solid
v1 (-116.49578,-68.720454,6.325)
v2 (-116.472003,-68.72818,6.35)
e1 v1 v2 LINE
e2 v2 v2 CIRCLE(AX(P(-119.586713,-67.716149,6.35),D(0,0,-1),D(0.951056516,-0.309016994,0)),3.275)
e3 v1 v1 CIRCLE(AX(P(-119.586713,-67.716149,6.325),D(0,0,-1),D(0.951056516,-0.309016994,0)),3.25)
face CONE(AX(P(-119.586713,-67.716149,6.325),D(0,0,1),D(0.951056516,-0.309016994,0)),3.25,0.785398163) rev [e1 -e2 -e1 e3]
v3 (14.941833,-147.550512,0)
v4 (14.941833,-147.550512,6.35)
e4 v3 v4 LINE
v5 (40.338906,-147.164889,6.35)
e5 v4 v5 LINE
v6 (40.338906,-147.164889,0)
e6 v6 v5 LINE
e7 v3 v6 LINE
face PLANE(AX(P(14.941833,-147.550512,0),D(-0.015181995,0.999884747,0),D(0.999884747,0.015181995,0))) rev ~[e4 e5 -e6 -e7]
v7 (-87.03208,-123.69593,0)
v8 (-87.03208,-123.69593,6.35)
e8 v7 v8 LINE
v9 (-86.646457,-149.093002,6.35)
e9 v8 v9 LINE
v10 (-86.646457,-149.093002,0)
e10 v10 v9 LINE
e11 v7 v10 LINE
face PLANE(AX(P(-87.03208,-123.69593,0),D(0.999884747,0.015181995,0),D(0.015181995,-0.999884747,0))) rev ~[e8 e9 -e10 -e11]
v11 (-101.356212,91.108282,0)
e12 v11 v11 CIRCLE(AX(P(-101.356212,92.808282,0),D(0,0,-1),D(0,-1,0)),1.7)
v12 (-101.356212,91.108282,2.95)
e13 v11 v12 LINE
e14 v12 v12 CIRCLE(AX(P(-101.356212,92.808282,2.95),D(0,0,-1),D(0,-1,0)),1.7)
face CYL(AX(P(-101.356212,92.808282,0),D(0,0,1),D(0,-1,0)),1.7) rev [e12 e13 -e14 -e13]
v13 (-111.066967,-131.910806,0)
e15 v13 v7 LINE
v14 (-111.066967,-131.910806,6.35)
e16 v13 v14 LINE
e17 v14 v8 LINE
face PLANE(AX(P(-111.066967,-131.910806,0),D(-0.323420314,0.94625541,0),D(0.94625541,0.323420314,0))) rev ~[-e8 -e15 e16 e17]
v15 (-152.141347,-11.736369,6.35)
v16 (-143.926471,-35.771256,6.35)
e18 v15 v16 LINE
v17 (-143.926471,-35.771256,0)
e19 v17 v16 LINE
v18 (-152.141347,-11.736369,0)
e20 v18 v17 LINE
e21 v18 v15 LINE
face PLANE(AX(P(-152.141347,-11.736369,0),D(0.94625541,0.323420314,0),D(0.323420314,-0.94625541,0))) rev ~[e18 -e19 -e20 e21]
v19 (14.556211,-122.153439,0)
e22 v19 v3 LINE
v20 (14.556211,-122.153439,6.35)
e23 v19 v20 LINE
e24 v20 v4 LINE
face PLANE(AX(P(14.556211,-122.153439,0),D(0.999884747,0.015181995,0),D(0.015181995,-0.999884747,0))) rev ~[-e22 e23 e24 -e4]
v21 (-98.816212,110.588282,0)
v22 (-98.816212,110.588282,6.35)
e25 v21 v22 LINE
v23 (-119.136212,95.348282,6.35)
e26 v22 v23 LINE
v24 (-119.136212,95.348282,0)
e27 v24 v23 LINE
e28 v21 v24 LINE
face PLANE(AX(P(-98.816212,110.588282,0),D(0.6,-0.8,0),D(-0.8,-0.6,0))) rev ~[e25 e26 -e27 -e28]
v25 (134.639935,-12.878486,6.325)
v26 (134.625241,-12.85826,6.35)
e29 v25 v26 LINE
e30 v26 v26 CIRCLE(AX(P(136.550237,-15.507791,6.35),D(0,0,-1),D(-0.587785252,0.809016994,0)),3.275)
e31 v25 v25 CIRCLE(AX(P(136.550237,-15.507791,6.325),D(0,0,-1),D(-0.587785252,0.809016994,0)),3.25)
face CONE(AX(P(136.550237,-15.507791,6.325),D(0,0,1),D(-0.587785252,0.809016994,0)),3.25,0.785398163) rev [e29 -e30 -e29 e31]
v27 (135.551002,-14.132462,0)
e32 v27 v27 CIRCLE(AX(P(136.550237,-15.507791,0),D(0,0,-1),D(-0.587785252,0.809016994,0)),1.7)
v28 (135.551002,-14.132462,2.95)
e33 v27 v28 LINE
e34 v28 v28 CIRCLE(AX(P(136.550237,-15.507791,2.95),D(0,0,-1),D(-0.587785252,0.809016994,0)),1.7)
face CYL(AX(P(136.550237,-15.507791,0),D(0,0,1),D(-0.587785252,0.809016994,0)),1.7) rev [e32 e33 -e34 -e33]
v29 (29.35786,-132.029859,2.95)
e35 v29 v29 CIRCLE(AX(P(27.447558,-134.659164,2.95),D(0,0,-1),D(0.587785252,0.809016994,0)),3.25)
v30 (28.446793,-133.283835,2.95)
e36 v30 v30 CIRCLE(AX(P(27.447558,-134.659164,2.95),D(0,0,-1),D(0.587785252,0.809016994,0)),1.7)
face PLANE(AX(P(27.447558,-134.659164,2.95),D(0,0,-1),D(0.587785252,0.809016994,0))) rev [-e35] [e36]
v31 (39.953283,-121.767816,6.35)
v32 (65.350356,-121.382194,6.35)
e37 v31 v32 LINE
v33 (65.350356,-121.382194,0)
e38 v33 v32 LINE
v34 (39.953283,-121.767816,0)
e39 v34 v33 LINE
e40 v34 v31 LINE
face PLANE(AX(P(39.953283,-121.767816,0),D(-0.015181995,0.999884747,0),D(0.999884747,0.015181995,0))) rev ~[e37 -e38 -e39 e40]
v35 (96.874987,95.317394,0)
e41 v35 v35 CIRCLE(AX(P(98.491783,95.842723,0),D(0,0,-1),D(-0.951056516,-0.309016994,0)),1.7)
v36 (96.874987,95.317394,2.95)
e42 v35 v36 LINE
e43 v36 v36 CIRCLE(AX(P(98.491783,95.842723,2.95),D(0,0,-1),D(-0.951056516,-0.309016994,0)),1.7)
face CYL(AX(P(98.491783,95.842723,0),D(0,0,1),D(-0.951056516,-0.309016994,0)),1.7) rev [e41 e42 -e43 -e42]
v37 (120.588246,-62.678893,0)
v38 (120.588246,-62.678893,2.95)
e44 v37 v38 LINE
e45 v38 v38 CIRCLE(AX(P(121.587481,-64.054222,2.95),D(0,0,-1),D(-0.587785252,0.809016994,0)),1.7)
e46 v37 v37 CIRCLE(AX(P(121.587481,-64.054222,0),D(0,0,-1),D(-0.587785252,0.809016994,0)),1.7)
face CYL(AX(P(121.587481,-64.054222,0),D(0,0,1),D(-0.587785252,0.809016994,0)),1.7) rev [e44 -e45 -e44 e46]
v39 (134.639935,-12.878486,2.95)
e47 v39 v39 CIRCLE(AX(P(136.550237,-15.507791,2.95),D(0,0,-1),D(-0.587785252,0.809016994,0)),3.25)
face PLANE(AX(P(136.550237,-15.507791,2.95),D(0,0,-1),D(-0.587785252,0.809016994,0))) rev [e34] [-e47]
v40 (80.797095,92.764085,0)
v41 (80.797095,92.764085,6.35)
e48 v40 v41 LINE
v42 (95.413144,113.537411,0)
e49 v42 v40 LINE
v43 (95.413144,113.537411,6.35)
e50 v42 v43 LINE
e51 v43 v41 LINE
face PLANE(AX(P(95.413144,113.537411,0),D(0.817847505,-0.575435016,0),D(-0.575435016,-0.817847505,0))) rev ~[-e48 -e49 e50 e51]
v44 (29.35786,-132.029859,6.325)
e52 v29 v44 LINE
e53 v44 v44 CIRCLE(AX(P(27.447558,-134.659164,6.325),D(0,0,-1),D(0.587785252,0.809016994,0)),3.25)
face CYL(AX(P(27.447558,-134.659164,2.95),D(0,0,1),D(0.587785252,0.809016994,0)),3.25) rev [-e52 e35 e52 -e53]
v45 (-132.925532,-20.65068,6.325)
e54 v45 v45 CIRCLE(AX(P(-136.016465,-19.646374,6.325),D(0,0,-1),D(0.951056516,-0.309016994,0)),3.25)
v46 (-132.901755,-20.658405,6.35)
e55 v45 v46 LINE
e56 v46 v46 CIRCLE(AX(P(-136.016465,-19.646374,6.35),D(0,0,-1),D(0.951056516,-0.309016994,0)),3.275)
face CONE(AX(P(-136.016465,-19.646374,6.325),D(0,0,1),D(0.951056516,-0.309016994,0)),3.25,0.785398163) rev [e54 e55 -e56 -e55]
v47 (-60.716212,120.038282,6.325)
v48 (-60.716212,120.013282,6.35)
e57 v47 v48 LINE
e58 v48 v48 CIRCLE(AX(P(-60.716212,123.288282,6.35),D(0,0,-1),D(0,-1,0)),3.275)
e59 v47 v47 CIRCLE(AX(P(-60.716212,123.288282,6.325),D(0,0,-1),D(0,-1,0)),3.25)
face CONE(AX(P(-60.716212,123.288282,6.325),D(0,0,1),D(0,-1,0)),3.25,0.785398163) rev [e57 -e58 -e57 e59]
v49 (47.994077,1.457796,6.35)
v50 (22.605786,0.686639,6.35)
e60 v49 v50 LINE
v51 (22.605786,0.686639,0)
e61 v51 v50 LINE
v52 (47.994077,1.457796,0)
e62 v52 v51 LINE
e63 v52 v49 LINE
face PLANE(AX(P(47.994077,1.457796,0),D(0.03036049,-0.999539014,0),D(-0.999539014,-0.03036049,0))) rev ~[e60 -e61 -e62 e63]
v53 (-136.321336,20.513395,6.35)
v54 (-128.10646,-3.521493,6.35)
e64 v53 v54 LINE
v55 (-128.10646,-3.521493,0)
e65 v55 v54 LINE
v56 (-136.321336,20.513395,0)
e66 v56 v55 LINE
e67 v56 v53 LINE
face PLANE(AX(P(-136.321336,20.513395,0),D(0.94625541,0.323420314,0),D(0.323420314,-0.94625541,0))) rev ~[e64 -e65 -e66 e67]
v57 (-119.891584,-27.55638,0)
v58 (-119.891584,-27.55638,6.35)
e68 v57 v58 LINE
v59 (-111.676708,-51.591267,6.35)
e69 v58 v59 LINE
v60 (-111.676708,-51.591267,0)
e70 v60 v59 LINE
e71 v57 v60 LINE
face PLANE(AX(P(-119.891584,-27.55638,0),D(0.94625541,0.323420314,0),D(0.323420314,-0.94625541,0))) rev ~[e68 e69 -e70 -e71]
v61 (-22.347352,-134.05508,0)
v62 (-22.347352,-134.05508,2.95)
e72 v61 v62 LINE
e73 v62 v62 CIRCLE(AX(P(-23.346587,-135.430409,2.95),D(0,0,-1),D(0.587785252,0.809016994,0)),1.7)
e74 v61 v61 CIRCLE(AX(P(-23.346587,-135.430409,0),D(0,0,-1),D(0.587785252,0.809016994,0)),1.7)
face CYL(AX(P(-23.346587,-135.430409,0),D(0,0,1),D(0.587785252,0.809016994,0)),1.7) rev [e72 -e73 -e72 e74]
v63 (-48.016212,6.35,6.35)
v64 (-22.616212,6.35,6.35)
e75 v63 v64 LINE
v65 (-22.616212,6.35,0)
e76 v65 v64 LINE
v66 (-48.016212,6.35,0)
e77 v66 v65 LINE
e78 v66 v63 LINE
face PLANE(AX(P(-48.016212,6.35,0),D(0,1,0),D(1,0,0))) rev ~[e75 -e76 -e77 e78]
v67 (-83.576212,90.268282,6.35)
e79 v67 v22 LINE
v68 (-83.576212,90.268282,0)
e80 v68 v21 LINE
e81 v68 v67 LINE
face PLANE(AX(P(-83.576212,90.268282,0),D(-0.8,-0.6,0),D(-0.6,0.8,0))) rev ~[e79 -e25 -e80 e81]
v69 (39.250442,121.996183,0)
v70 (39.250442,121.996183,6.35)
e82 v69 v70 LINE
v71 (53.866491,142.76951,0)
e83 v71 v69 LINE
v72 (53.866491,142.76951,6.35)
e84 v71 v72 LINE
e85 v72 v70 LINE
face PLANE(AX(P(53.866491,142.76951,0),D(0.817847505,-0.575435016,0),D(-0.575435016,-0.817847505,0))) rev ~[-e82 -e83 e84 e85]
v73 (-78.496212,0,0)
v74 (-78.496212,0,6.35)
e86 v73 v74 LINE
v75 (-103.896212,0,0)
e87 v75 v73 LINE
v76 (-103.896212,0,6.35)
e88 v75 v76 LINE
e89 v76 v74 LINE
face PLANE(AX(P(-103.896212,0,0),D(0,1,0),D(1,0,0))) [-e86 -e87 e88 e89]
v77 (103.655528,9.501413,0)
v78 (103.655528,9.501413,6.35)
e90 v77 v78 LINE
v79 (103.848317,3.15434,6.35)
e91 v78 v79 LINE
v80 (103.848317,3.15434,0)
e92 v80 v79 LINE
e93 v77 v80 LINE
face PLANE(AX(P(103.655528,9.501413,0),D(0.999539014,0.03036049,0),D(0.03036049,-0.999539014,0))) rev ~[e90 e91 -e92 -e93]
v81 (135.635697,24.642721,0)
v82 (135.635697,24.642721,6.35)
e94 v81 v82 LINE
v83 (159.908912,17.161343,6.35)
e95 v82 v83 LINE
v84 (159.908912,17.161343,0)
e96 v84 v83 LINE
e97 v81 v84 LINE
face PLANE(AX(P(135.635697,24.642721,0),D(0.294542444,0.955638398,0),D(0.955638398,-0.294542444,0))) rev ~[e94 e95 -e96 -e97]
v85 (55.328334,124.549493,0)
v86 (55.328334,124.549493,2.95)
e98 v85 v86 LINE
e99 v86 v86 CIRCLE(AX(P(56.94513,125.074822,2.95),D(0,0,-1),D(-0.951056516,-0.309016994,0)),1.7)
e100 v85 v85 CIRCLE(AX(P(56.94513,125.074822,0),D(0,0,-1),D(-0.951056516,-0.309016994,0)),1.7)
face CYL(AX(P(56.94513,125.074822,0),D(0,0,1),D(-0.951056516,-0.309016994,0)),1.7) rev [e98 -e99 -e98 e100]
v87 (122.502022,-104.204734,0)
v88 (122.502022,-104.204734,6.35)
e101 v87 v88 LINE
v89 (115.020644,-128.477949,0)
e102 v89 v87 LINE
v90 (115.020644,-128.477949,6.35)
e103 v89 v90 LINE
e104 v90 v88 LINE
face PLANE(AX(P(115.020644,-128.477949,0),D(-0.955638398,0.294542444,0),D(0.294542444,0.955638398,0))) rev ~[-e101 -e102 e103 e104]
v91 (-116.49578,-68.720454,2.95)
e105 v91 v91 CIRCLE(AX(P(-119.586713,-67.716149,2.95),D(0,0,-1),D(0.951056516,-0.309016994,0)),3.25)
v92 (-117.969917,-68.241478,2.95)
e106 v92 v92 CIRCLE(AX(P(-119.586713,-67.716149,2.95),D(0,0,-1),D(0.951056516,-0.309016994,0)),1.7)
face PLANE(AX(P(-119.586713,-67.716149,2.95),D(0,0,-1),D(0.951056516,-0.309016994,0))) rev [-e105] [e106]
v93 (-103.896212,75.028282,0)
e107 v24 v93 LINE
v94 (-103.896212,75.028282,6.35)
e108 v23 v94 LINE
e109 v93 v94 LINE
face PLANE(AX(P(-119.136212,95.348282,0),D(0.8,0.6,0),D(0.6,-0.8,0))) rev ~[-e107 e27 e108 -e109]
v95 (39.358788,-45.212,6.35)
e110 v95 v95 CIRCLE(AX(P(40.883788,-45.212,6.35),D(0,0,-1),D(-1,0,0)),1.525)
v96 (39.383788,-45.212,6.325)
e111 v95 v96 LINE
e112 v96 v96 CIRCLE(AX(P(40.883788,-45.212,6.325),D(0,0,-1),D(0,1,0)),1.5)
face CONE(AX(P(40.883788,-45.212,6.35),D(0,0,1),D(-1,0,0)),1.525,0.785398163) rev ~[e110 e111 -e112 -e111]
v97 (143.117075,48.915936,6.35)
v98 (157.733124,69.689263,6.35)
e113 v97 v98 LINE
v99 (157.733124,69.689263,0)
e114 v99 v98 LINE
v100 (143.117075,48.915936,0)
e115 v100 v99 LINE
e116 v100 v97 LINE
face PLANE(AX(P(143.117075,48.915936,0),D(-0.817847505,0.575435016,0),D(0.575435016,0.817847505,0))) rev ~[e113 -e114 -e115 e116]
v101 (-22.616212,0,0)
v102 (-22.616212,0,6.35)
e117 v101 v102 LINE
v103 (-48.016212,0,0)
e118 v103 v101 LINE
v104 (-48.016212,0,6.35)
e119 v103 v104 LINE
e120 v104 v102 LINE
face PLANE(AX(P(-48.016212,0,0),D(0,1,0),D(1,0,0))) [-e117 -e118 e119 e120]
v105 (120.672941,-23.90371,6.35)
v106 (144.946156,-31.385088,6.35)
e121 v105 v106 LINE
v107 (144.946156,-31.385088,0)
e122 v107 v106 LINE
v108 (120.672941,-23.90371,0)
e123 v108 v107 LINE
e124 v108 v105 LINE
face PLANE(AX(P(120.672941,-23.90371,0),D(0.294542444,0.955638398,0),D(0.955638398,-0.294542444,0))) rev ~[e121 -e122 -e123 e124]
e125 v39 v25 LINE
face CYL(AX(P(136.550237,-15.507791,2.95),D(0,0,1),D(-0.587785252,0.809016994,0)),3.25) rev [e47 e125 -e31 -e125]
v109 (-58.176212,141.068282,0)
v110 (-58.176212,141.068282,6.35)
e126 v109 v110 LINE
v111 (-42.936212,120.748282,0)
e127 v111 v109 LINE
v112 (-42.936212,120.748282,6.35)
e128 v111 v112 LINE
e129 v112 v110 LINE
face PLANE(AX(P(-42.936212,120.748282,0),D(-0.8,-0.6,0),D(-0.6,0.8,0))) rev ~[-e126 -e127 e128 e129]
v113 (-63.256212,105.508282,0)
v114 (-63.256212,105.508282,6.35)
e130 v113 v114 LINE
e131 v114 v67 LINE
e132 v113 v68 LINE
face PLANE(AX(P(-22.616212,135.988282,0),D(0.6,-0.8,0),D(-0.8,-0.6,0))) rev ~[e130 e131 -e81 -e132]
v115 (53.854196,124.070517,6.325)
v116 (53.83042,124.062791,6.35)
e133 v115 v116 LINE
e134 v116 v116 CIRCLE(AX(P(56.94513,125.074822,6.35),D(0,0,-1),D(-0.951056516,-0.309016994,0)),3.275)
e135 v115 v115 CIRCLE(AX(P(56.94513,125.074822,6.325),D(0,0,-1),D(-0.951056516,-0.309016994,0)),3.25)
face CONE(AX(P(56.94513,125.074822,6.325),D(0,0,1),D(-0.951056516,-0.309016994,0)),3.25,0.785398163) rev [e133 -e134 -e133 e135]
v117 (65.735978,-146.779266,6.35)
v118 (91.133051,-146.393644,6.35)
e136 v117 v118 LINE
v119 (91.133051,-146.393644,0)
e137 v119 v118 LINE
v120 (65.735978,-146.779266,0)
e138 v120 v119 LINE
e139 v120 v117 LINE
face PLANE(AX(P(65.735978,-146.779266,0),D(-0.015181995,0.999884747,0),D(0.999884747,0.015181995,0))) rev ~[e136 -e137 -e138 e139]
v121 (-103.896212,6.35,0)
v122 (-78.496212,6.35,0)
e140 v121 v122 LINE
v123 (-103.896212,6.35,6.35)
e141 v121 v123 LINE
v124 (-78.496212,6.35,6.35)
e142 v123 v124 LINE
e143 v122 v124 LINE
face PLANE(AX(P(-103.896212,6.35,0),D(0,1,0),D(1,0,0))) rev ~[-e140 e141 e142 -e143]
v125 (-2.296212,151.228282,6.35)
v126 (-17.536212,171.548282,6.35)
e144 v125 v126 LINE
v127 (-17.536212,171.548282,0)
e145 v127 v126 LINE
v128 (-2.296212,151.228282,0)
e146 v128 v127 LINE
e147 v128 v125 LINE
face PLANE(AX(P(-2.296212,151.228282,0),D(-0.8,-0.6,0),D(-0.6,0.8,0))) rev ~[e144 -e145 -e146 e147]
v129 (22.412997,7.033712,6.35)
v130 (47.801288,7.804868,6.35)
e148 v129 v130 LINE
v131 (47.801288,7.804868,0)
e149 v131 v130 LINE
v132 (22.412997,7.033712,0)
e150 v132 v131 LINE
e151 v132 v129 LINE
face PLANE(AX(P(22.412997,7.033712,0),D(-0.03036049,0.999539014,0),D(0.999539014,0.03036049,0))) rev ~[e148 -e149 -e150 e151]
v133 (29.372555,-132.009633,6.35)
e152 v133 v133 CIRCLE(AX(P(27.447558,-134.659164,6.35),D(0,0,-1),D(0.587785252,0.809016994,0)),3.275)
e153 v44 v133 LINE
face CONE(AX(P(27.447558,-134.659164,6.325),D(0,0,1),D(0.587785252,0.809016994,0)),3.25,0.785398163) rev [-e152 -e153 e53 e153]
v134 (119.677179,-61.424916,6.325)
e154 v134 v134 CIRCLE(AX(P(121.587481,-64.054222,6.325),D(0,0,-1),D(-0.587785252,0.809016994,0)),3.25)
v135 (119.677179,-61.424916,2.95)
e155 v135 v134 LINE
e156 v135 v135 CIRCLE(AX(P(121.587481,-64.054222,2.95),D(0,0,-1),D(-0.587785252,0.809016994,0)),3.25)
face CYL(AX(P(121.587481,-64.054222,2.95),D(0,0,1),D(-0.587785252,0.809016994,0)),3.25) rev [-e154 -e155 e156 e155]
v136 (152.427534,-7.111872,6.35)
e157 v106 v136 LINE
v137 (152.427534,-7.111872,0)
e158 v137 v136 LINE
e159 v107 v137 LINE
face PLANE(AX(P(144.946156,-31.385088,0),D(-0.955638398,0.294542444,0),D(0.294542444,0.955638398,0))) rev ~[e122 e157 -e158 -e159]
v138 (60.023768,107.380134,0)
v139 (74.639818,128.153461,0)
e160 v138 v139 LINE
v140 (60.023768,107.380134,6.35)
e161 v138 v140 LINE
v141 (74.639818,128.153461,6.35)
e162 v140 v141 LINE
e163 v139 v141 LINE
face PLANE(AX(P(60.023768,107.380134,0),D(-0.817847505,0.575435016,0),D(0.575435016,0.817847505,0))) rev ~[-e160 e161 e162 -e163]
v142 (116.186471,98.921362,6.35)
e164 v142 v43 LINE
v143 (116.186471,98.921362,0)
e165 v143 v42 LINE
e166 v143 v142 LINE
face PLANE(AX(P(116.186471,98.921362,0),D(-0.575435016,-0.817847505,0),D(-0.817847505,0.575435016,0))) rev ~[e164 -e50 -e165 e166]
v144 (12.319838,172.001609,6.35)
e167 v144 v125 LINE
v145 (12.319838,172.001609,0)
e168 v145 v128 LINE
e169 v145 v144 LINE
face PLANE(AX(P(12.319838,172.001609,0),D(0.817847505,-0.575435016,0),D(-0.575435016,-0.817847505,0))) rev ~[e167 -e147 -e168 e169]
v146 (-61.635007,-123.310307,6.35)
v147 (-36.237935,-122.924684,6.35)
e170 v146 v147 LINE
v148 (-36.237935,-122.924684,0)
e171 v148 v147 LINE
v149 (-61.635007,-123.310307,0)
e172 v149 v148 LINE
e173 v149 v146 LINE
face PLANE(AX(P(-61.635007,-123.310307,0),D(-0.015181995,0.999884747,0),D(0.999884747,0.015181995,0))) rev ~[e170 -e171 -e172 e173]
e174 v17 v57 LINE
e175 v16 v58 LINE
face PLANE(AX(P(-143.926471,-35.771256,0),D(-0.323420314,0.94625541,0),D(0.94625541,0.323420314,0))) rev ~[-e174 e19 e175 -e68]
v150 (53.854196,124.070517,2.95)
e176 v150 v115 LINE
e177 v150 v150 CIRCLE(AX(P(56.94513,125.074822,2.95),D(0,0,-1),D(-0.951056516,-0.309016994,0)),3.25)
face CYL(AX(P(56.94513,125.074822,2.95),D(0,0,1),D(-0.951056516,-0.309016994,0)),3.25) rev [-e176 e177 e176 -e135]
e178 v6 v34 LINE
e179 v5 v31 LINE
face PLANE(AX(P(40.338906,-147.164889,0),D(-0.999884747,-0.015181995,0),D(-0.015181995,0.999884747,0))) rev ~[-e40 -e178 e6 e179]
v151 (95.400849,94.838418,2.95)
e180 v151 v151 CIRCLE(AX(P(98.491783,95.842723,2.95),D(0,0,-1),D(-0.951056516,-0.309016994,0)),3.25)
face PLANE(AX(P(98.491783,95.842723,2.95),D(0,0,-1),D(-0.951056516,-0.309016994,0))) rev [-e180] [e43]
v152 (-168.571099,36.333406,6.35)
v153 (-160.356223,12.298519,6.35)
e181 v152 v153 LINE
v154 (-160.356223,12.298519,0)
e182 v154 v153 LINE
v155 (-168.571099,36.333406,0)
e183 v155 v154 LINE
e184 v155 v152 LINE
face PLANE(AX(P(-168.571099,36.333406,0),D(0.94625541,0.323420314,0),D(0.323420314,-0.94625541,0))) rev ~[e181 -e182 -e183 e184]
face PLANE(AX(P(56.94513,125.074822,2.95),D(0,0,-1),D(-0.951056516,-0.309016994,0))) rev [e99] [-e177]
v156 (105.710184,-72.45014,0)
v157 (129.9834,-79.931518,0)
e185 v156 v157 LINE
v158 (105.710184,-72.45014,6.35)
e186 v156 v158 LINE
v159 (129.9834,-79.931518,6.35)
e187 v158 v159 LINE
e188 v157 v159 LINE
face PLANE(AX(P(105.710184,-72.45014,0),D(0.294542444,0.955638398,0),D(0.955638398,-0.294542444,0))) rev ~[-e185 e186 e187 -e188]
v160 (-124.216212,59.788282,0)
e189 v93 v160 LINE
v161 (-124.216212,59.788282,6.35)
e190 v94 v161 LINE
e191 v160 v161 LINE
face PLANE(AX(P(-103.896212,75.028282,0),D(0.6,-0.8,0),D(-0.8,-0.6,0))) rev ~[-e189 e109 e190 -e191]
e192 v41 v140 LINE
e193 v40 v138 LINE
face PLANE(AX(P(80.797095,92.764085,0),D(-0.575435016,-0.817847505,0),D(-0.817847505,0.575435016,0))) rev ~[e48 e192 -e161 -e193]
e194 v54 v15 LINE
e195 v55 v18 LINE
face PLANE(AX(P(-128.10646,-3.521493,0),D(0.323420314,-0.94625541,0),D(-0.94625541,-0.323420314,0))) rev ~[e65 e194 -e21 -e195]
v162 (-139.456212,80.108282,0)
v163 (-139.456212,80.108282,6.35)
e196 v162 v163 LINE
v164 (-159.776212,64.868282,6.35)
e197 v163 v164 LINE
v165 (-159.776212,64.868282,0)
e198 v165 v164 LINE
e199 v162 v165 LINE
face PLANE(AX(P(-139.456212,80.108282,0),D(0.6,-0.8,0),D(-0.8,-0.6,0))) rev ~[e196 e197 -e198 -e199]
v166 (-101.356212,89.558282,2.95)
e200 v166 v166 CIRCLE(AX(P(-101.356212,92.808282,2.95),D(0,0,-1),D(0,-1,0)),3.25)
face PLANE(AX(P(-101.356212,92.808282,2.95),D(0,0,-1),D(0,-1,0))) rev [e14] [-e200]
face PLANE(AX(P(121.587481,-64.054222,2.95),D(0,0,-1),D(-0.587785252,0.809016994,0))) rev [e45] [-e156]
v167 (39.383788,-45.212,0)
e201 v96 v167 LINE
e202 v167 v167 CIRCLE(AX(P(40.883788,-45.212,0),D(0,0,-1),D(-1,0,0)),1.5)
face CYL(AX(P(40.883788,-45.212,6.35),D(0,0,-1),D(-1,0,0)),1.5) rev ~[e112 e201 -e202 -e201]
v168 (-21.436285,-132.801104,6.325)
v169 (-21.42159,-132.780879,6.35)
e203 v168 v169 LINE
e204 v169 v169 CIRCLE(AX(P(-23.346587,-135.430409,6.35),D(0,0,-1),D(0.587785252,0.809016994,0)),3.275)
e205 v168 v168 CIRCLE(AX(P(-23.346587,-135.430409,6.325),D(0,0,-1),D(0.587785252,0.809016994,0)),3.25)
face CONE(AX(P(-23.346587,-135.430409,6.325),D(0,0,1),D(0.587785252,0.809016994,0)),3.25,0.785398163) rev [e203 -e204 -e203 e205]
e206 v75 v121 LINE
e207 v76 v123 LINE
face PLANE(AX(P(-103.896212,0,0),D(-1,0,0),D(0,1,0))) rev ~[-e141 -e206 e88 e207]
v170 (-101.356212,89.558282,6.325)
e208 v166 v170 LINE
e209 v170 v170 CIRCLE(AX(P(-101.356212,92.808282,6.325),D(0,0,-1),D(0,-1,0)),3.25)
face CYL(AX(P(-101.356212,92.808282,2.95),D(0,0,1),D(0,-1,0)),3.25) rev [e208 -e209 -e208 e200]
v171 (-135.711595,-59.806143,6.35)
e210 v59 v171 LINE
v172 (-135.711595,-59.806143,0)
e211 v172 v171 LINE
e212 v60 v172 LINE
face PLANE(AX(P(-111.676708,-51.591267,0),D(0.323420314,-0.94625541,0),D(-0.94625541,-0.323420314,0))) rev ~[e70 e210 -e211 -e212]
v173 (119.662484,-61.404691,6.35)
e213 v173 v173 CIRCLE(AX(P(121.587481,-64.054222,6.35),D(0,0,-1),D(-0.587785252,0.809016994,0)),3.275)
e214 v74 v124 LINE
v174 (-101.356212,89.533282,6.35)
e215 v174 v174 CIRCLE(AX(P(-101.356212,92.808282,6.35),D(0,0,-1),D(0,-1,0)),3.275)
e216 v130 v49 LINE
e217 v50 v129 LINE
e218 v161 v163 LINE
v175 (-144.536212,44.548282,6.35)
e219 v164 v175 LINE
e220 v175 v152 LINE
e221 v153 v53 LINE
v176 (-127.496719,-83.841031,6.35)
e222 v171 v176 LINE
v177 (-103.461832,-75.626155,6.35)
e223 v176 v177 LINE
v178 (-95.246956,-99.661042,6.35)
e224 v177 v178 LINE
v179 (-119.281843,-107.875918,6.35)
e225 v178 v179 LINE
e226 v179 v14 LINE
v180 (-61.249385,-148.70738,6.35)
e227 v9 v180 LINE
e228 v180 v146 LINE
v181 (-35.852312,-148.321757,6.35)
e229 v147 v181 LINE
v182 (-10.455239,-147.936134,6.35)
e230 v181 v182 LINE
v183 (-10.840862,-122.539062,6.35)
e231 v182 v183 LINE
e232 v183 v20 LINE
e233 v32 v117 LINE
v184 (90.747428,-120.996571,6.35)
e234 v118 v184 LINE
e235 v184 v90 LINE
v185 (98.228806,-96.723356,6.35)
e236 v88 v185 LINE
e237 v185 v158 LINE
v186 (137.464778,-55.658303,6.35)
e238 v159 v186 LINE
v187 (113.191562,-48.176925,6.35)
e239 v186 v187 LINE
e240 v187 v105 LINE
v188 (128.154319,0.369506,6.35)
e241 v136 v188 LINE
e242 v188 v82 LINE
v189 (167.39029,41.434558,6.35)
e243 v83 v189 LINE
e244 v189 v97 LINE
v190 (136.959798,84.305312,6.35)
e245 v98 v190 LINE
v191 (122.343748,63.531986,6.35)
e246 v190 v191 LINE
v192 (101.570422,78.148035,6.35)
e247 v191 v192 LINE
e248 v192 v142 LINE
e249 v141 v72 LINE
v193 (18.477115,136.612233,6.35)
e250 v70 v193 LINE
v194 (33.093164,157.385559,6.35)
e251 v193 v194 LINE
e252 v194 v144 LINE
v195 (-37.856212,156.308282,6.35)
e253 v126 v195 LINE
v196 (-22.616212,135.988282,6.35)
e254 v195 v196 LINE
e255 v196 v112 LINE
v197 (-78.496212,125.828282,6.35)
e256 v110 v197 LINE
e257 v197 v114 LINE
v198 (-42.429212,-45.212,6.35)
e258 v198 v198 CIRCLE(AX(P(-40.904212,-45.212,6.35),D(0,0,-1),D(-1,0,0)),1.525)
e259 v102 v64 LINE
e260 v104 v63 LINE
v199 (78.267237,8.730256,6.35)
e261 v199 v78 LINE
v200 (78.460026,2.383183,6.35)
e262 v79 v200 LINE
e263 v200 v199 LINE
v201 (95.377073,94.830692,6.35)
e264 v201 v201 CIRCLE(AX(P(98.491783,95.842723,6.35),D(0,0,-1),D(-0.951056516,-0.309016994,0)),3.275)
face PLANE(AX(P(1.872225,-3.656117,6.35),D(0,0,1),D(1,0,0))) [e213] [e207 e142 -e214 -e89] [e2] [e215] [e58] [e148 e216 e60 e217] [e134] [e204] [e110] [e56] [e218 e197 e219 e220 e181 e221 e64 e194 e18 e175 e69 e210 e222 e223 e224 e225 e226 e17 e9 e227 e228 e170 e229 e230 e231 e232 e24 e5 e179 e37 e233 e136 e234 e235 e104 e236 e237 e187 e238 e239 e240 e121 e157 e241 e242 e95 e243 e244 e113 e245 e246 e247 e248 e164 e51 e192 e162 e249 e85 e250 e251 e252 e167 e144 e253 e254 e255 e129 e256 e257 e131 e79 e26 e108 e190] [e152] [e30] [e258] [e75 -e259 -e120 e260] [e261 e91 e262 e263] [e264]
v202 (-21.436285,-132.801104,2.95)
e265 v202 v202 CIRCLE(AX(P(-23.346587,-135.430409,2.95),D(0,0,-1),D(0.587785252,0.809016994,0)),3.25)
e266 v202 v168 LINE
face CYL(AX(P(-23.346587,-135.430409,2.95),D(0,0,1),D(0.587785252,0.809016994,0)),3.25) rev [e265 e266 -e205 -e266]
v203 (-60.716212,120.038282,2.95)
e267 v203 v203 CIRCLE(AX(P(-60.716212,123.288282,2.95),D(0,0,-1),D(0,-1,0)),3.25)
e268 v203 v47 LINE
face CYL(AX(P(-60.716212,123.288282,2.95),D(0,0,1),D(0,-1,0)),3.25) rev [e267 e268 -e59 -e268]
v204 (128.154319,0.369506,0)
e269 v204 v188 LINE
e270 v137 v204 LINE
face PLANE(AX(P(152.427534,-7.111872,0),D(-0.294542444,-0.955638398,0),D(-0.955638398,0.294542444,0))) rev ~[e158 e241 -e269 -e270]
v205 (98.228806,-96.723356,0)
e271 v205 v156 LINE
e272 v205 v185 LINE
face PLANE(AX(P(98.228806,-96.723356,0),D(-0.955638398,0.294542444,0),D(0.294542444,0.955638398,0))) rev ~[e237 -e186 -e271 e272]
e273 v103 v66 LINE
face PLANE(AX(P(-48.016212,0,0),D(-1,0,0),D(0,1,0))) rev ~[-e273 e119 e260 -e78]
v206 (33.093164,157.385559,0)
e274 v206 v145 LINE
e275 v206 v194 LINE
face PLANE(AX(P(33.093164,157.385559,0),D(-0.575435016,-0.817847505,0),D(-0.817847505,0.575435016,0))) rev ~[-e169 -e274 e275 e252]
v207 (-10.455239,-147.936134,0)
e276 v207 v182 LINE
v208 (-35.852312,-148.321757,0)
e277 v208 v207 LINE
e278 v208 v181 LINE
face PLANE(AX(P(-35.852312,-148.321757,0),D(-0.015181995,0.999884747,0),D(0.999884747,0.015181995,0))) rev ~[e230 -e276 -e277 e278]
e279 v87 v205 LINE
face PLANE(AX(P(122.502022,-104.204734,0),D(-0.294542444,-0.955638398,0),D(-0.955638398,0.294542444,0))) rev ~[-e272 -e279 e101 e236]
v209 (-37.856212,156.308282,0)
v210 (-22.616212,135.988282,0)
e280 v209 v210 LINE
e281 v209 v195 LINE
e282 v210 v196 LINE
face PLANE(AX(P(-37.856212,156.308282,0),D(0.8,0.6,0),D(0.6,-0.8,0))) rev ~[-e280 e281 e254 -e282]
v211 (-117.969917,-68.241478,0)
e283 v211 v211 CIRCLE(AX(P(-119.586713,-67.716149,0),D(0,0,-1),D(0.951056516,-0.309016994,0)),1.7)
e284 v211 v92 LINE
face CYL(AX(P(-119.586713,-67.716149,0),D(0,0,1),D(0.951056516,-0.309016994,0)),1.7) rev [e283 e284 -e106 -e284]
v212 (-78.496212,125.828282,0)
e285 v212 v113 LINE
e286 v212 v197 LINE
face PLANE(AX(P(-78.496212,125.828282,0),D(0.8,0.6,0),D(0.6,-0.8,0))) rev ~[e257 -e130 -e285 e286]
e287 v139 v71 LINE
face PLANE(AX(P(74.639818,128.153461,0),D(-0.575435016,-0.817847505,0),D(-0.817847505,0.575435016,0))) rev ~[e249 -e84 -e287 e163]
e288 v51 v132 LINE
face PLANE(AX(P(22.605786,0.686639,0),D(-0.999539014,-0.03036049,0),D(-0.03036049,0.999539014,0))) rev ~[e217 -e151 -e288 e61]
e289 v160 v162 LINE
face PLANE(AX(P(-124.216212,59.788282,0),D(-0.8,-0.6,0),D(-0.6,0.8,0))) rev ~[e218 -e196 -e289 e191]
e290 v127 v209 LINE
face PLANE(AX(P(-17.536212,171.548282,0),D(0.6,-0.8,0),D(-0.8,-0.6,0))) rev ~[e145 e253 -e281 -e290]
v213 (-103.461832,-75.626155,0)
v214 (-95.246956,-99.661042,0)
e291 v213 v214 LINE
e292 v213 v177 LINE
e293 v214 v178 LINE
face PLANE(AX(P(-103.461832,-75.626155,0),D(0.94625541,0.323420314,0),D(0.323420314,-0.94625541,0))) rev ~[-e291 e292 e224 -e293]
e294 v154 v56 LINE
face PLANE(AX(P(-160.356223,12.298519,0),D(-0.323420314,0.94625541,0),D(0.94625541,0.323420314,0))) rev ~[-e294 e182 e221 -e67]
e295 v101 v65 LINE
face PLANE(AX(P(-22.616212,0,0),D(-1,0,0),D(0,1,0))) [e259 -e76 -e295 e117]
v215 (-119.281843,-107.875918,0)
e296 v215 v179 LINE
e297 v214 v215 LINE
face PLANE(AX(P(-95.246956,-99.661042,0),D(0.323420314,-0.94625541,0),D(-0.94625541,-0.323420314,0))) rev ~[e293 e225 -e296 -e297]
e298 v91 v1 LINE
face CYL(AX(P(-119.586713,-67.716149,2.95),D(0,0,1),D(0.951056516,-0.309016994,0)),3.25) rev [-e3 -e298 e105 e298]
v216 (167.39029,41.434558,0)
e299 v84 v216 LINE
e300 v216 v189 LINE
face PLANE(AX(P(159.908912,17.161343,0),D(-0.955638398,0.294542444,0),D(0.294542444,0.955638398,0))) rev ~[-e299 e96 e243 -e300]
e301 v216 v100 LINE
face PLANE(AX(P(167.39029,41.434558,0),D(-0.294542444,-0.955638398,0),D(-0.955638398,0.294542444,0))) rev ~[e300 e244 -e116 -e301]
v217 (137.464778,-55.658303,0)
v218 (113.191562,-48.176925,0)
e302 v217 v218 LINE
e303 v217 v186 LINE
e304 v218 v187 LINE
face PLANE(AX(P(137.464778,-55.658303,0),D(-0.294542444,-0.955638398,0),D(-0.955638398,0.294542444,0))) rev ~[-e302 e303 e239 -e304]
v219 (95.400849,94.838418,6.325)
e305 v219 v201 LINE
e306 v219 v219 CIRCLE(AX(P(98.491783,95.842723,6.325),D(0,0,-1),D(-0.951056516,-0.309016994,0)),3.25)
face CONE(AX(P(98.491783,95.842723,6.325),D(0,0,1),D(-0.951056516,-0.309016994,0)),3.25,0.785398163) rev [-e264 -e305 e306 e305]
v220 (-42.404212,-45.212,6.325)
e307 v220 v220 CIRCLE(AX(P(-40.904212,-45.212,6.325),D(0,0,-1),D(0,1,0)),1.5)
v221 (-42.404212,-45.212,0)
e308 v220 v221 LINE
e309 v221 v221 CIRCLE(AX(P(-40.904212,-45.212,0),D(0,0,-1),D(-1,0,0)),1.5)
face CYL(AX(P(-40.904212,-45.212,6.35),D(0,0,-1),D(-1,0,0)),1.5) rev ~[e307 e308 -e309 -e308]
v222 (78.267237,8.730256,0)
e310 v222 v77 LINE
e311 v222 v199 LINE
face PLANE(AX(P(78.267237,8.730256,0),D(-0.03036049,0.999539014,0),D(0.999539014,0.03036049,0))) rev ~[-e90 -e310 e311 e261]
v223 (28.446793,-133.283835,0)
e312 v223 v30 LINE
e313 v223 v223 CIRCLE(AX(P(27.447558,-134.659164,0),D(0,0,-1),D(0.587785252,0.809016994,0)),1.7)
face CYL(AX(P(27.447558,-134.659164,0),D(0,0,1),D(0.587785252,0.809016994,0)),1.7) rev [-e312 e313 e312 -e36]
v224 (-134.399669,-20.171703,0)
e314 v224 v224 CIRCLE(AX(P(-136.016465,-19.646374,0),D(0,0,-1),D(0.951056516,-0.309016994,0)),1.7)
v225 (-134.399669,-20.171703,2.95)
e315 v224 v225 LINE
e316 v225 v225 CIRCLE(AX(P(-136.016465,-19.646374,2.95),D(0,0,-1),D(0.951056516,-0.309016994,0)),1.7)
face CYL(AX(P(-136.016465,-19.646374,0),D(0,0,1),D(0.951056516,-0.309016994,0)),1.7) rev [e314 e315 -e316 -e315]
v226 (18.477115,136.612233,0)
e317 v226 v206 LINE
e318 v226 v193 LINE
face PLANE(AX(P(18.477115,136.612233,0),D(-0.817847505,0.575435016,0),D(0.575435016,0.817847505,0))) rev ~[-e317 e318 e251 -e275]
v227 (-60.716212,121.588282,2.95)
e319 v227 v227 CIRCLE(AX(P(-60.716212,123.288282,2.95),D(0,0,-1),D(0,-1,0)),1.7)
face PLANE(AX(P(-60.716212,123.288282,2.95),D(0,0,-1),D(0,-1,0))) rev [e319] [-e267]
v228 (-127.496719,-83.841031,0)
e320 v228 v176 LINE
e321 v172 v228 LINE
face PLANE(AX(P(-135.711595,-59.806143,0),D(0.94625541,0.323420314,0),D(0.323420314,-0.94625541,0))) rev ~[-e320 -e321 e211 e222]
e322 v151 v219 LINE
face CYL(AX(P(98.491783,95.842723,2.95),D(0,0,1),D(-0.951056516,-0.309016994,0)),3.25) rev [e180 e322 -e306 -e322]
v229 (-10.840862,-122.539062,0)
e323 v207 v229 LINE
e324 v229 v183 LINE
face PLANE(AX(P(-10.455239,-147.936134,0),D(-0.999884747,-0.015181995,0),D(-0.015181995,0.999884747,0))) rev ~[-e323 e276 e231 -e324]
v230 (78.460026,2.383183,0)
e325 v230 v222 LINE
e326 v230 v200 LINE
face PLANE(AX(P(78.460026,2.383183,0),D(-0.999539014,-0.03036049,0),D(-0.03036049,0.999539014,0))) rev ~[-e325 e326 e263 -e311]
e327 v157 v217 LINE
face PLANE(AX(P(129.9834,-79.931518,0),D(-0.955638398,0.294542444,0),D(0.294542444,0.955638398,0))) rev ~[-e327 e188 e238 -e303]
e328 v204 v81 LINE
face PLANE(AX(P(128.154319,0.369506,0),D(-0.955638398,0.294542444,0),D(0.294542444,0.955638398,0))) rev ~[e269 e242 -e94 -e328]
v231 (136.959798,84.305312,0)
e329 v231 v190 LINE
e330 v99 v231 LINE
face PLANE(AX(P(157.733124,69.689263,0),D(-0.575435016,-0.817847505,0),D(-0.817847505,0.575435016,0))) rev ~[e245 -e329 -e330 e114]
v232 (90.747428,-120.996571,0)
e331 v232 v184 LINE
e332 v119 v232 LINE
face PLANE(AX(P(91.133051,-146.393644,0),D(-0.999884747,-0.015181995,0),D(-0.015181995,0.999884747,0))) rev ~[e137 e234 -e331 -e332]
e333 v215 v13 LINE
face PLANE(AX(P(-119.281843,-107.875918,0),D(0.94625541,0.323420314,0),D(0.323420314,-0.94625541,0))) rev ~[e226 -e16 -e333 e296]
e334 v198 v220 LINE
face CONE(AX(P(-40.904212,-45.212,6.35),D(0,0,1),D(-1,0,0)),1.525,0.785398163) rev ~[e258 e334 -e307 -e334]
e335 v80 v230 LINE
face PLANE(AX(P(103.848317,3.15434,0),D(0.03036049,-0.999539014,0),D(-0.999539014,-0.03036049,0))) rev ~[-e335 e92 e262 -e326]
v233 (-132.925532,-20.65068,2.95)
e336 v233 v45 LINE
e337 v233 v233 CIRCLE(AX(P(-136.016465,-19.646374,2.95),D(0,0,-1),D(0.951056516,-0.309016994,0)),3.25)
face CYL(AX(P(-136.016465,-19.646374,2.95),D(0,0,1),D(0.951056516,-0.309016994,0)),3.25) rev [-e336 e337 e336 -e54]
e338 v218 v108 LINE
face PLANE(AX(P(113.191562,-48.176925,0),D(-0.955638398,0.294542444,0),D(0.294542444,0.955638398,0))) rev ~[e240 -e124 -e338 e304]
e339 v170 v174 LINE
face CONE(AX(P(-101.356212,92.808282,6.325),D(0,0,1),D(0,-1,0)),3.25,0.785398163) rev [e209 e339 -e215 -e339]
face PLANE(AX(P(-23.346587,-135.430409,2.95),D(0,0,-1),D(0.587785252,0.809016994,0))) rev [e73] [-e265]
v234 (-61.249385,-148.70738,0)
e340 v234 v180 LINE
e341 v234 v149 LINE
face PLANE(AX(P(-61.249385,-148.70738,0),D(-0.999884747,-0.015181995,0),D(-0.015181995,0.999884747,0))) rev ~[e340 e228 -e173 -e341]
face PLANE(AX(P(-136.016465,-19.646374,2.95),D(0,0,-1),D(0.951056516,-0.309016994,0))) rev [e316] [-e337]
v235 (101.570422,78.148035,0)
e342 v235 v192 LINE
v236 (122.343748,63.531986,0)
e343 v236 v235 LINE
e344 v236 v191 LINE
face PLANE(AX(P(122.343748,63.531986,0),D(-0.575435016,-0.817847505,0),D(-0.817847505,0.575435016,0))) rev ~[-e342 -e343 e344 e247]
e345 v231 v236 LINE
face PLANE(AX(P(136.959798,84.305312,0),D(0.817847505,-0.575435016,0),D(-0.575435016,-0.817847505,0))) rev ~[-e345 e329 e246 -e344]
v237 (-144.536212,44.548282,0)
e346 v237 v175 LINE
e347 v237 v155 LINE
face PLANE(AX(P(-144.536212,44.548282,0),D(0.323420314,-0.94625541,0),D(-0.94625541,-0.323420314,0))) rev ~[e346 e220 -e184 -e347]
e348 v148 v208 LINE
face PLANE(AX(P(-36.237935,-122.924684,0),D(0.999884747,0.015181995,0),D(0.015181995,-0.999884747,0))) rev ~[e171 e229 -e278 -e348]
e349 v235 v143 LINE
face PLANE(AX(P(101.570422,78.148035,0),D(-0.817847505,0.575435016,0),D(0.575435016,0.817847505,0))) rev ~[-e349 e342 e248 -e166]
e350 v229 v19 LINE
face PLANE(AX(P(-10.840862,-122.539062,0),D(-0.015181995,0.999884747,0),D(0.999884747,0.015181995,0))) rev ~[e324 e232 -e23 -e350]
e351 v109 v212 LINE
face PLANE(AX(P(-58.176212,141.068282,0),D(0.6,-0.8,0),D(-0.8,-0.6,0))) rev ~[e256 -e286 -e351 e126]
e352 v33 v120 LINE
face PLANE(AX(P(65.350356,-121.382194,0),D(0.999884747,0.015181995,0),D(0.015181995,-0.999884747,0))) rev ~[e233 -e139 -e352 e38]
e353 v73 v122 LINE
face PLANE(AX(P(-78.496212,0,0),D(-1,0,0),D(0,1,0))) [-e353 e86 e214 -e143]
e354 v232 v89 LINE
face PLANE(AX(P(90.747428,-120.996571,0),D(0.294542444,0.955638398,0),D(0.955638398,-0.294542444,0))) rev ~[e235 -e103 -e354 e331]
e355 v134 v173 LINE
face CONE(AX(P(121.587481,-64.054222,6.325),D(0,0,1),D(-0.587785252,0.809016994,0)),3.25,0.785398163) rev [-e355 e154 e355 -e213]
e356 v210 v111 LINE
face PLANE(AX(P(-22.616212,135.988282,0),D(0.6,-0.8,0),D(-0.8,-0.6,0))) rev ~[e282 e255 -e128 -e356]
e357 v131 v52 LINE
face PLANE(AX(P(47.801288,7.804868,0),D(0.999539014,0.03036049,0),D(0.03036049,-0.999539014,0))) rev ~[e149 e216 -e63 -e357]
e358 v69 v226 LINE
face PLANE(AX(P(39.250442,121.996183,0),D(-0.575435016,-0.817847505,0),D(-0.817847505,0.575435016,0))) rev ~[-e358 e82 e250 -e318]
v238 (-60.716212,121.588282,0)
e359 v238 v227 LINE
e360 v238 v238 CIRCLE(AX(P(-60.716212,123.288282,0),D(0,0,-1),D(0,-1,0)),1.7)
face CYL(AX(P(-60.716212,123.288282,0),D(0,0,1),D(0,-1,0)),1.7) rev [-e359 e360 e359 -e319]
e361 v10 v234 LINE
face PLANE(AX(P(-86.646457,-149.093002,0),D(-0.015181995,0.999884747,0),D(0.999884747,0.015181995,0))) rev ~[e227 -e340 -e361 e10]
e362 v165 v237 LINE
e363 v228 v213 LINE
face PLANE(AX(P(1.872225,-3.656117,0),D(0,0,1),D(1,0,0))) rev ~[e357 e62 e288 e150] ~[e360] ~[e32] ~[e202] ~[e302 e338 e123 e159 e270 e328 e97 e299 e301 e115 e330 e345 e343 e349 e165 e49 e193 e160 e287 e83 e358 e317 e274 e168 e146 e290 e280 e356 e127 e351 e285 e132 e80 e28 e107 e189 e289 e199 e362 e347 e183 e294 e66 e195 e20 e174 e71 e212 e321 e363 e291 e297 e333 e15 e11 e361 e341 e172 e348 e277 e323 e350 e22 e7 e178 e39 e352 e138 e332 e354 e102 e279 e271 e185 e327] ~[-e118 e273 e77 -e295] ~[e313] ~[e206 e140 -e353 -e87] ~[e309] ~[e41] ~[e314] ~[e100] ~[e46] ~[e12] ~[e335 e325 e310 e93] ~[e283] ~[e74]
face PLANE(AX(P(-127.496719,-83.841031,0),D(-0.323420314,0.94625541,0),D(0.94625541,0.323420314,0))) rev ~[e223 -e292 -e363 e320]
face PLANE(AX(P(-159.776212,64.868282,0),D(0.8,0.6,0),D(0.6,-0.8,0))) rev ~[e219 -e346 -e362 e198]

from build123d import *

# Parameters (mm, degrees)
SKETCH1_W                                    = 25.4
SKETCH1_H                                    = 6.35
BOSS_EXTRUDE3_DEPTH                          = 6.35
BOSS_EXTRUDE5_DEPTH                          = 6.35
CBORE_FOR_M3_HEX_SOCKET_HEAD_CAP_SCR_2_COUNT = 2
CBORE_FOR_M3_HEX_SOCKET_HEAD_CAP_SCR_2_PITCH = 50.8
CIRPATTERN1_COUNT                            = 5
F_3_0MM_DOWEL_HOLE1_D                        = 3
F_3_0MM_DOWEL_HOLE1_CSINK_D                  = 3.05
F_3_0MM_DOWEL_HOLE1_CSINK_ANGLE              = 90


with BuildPart() as part:
    # Sketch1 → Boss-Extrude3 (new body)
    with BuildSketch(Plane.XY):
        Polygon((-103.896211638, 75.028282184), (-124.216211638, 59.788282184), (-139.456211638, 80.108282184), (-159.776211638, 64.868282184), (-144.536211638, 44.548282184), (-168.571099043, 36.333406201), (-160.356223061, 12.298518796), (-136.321335655, 20.513394779), (-128.106459673, -3.521492627), (-152.141347078, -11.73636861), (-143.926471095, -35.771256015), (-119.89158369, -27.556380032), (-111.676707707, -51.591267438), (-135.711595113, -59.80614342), (-127.49671913, -83.841030826), (-103.461831725, -75.626154843), (-95.246955742, -99.661042248), (-119.281843147, -107.875918231), (-111.066967165, -131.910805636), (-87.032079759, -123.695929654), (-86.646457092, -149.093002224), (-61.249384521, -148.707379557), (-61.635007189, -123.310306986), (-36.237934618, -122.924684318), (-35.85231195, -148.321756889), (-10.45523938, -147.936134221), (-10.840862048, -122.539061651), (14.556210523, -122.153438983), (14.941833191, -147.550511554), (40.338905761, -147.164888886), (39.953283094, -121.767816315), (65.350355664, -121.382193648), (65.735978332, -146.779266218), (91.133050903, -146.393643551), (90.747428235, -120.99657098), (115.020643556, -128.477949061), (122.502021637, -104.20473374), (98.228806316, -96.723355659), (105.710184397, -72.450140338), (129.983399717, -79.931518419), (137.464777798, -55.658303098), (113.191562477, -48.176925017), (120.672940558, -23.903709697), (144.946155879, -31.385087777), (152.42753396, -7.111872456), (128.154318639, 0.369505624), (135.63569672, 24.642720945), (159.90891204, 17.161342864), (167.390290121, 41.434558185), (143.1170748, 48.915936266), (157.733124217, 69.6892629), (136.959797583, 84.305312317), (122.343748166, 63.531985683), (101.570421532, 78.1480351), (116.186470949, 98.921361734), (95.413144315, 113.537411151), (80.797094898, 92.764084517), (60.023768264, 107.380133933), (74.639817681, 128.153460567), (53.866491047, 142.769509984), (39.25044163, 121.99618335), (18.477114996, 136.612232767), (33.093164413, 157.385559401), (12.319837779, 172.001608818), (-2.296211638, 151.228282184), (-17.536211638, 171.548282184), (-37.856211638, 156.308282184), (-22.616211638, 135.988282184), (-83.576211638, 90.268282184), (-98.816211638, 110.588282184), (-119.136211638, 95.348282184), align=None)
        with Locations((-91.196211638, 3.175)):
            Rectangle(SKETCH1_W, SKETCH1_H, mode=Mode.SUBTRACT)
        with Locations((-35.316211638, 3.175)):
            Rectangle(SKETCH1_W, SKETCH1_H, mode=Mode.SUBTRACT)
        Polygon((22.412996771, 7.033712007), (47.801287728, 7.804868454), (47.99407684, 1.457795715), (22.605785883, 0.686639268), align=None, mode=Mode.SUBTRACT)
        Polygon((103.655527834, 9.501412638), (103.848316946, 3.154339898), (78.460025989, 2.383183451), (78.267236877, 8.730256191), align=None, mode=Mode.SUBTRACT)
    extrude(amount=BOSS_EXTRUDE3_DEPTH)

    # Sketch1<6> → Boss-Extrude5 (add)
    with BuildSketch(Plane.XY):
        Polygon((-78.496211638, 125.828282184), (-63.256211638, 105.508282184), (-42.936211638, 120.748282184), (-58.176211638, 141.068282184), align=None)
    extrude(amount=BOSS_EXTRUDE5_DEPTH)

    # Sketch10 → CBORE for M3 Hex Socket Head Cap Screw1 (revolve, cut)
    with BuildSketch(Plane(origin=(-60.716211638, 123.288282184, 6.35), x_dir=(0, -1, 0), z_dir=(1, 0, 0))):
        Polygon((0, 0), (0, 6.35), (1.7, 6.35), (1.7, 3.4), (3.25, 3.4), (3.25, 0.025), (3.275, 0), align=None)
    cbore_for_m3_hex_socket_head_cap_screw1 = revolve(axis=Axis((-60.716211638, 123.288282184, 12.7), (0, 0, -1)), mode=Mode.SUBTRACT)

    # CBORE for M3 Hex Socket Head Cap Scr 2: CBORE for M3 Hex Socket Head Cap Screw1 ×2
    with Locations(*[Vector(-0.8, -0.5999999999999999, 0) * (i * CBORE_FOR_M3_HEX_SOCKET_HEAD_CAP_SCR_2_PITCH) for i in range(1, CBORE_FOR_M3_HEX_SOCKET_HEAD_CAP_SCR_2_COUNT)]):
        add(cbore_for_m3_hex_socket_head_cap_screw1, mode=Mode.SUBTRACT)

    # CirPattern1: CBORE for M3 Hex Socket Head Cap Screw1 ×5 about axis
    cirpattern1_axis = Axis((0, 0, 0), (0, 0, 1))
    for i in range(1, CIRPATTERN1_COUNT):
        add(cbore_for_m3_hex_socket_head_cap_screw1.rotate(cirpattern1_axis, i * 360 / CIRPATTERN1_COUNT), mode=Mode.SUBTRACT)

    # CirPattern1 copy 1 sketch → CirPattern1 copy 1 (revolve, cut)
    with BuildSketch(Plane(origin=(-119.586713419, -67.716149132, 6.35), x_dir=(0.9510565162951535, -0.30901699437494745, 0), z_dir=(0.30901699437494745, 0.9510565162951535, 0))):
        Polygon((0, 0), (0, 6.35), (1.7, 6.35), (1.7, 3.4), (3.25, 3.4), (3.25, 0.025), (3.275, 0), align=None)
    revolve(axis=Axis((-119.586713419, -67.716149132, 12.7), (0, 0, -1)), mode=Mode.SUBTRACT)

    # CirPattern1 copy 2 sketch → CirPattern1 copy 2 (revolve, cut)
    with BuildSketch(Plane(origin=(27.447558142, -134.659163935, 6.35), x_dir=(0.5877852522924732, 0.8090169943749473, 0), z_dir=(-0.8090169943749473, 0.5877852522924732, 0))):
        Polygon((0, 0), (0, 6.35), (1.7, 6.35), (1.7, 3.4), (3.25, 3.4), (3.25, 0.025), (3.275, 0), align=None)
    revolve(axis=Axis((27.447558142, -134.659163935, 12.7), (0, 0, -1)), mode=Mode.SUBTRACT)

    # CirPattern1 copy 3 sketch → CirPattern1 copy 3 (revolve, cut)
    with BuildSketch(Plane(origin=(136.550237259, -15.507791077, 6.35), x_dir=(-0.587785252292473, 0.8090169943749476, 0), z_dir=(-0.8090169943749476, -0.587785252292473, 0))):
        Polygon((0, 0), (0, 6.35), (1.7, 6.35), (1.7, 3.4), (3.25, 3.4), (3.25, 0.025), (3.275, 0), align=None)
    revolve(axis=Axis((136.550237259, -15.507791077, 12.7), (0, 0, -1)), mode=Mode.SUBTRACT)

    # CirPattern1 copy 4 sketch → CirPattern1 copy 4 (revolve, cut)
    with BuildSketch(Plane(origin=(56.945129656, 125.074821959, 6.35), x_dir=(-0.9510565162951536, -0.30901699437494723, 0), z_dir=(0.30901699437494723, -0.9510565162951536, 0))):
        Polygon((0, 0), (0, 6.35), (1.7, 6.35), (1.7, 3.4), (3.25, 3.4), (3.25, 0.025), (3.275, 0), align=None)
    revolve(axis=Axis((56.945129656, 125.074821959, 12.7), (0, 0, -1)), mode=Mode.SUBTRACT)

    # Ø3.0mm Dowel Hole1 (through all)
    with Locations(Plane.XY.offset(6.35)):
        with Locations((-40.904211638, -45.212), (40.883788362, -45.212)):
            CounterSinkHole(F_3_0MM_DOWEL_HOLE1_D / 2, F_3_0MM_DOWEL_HOLE1_CSINK_D / 2, counter_sink_angle=F_3_0MM_DOWEL_HOLE1_CSINK_ANGLE)


solid = part.part
